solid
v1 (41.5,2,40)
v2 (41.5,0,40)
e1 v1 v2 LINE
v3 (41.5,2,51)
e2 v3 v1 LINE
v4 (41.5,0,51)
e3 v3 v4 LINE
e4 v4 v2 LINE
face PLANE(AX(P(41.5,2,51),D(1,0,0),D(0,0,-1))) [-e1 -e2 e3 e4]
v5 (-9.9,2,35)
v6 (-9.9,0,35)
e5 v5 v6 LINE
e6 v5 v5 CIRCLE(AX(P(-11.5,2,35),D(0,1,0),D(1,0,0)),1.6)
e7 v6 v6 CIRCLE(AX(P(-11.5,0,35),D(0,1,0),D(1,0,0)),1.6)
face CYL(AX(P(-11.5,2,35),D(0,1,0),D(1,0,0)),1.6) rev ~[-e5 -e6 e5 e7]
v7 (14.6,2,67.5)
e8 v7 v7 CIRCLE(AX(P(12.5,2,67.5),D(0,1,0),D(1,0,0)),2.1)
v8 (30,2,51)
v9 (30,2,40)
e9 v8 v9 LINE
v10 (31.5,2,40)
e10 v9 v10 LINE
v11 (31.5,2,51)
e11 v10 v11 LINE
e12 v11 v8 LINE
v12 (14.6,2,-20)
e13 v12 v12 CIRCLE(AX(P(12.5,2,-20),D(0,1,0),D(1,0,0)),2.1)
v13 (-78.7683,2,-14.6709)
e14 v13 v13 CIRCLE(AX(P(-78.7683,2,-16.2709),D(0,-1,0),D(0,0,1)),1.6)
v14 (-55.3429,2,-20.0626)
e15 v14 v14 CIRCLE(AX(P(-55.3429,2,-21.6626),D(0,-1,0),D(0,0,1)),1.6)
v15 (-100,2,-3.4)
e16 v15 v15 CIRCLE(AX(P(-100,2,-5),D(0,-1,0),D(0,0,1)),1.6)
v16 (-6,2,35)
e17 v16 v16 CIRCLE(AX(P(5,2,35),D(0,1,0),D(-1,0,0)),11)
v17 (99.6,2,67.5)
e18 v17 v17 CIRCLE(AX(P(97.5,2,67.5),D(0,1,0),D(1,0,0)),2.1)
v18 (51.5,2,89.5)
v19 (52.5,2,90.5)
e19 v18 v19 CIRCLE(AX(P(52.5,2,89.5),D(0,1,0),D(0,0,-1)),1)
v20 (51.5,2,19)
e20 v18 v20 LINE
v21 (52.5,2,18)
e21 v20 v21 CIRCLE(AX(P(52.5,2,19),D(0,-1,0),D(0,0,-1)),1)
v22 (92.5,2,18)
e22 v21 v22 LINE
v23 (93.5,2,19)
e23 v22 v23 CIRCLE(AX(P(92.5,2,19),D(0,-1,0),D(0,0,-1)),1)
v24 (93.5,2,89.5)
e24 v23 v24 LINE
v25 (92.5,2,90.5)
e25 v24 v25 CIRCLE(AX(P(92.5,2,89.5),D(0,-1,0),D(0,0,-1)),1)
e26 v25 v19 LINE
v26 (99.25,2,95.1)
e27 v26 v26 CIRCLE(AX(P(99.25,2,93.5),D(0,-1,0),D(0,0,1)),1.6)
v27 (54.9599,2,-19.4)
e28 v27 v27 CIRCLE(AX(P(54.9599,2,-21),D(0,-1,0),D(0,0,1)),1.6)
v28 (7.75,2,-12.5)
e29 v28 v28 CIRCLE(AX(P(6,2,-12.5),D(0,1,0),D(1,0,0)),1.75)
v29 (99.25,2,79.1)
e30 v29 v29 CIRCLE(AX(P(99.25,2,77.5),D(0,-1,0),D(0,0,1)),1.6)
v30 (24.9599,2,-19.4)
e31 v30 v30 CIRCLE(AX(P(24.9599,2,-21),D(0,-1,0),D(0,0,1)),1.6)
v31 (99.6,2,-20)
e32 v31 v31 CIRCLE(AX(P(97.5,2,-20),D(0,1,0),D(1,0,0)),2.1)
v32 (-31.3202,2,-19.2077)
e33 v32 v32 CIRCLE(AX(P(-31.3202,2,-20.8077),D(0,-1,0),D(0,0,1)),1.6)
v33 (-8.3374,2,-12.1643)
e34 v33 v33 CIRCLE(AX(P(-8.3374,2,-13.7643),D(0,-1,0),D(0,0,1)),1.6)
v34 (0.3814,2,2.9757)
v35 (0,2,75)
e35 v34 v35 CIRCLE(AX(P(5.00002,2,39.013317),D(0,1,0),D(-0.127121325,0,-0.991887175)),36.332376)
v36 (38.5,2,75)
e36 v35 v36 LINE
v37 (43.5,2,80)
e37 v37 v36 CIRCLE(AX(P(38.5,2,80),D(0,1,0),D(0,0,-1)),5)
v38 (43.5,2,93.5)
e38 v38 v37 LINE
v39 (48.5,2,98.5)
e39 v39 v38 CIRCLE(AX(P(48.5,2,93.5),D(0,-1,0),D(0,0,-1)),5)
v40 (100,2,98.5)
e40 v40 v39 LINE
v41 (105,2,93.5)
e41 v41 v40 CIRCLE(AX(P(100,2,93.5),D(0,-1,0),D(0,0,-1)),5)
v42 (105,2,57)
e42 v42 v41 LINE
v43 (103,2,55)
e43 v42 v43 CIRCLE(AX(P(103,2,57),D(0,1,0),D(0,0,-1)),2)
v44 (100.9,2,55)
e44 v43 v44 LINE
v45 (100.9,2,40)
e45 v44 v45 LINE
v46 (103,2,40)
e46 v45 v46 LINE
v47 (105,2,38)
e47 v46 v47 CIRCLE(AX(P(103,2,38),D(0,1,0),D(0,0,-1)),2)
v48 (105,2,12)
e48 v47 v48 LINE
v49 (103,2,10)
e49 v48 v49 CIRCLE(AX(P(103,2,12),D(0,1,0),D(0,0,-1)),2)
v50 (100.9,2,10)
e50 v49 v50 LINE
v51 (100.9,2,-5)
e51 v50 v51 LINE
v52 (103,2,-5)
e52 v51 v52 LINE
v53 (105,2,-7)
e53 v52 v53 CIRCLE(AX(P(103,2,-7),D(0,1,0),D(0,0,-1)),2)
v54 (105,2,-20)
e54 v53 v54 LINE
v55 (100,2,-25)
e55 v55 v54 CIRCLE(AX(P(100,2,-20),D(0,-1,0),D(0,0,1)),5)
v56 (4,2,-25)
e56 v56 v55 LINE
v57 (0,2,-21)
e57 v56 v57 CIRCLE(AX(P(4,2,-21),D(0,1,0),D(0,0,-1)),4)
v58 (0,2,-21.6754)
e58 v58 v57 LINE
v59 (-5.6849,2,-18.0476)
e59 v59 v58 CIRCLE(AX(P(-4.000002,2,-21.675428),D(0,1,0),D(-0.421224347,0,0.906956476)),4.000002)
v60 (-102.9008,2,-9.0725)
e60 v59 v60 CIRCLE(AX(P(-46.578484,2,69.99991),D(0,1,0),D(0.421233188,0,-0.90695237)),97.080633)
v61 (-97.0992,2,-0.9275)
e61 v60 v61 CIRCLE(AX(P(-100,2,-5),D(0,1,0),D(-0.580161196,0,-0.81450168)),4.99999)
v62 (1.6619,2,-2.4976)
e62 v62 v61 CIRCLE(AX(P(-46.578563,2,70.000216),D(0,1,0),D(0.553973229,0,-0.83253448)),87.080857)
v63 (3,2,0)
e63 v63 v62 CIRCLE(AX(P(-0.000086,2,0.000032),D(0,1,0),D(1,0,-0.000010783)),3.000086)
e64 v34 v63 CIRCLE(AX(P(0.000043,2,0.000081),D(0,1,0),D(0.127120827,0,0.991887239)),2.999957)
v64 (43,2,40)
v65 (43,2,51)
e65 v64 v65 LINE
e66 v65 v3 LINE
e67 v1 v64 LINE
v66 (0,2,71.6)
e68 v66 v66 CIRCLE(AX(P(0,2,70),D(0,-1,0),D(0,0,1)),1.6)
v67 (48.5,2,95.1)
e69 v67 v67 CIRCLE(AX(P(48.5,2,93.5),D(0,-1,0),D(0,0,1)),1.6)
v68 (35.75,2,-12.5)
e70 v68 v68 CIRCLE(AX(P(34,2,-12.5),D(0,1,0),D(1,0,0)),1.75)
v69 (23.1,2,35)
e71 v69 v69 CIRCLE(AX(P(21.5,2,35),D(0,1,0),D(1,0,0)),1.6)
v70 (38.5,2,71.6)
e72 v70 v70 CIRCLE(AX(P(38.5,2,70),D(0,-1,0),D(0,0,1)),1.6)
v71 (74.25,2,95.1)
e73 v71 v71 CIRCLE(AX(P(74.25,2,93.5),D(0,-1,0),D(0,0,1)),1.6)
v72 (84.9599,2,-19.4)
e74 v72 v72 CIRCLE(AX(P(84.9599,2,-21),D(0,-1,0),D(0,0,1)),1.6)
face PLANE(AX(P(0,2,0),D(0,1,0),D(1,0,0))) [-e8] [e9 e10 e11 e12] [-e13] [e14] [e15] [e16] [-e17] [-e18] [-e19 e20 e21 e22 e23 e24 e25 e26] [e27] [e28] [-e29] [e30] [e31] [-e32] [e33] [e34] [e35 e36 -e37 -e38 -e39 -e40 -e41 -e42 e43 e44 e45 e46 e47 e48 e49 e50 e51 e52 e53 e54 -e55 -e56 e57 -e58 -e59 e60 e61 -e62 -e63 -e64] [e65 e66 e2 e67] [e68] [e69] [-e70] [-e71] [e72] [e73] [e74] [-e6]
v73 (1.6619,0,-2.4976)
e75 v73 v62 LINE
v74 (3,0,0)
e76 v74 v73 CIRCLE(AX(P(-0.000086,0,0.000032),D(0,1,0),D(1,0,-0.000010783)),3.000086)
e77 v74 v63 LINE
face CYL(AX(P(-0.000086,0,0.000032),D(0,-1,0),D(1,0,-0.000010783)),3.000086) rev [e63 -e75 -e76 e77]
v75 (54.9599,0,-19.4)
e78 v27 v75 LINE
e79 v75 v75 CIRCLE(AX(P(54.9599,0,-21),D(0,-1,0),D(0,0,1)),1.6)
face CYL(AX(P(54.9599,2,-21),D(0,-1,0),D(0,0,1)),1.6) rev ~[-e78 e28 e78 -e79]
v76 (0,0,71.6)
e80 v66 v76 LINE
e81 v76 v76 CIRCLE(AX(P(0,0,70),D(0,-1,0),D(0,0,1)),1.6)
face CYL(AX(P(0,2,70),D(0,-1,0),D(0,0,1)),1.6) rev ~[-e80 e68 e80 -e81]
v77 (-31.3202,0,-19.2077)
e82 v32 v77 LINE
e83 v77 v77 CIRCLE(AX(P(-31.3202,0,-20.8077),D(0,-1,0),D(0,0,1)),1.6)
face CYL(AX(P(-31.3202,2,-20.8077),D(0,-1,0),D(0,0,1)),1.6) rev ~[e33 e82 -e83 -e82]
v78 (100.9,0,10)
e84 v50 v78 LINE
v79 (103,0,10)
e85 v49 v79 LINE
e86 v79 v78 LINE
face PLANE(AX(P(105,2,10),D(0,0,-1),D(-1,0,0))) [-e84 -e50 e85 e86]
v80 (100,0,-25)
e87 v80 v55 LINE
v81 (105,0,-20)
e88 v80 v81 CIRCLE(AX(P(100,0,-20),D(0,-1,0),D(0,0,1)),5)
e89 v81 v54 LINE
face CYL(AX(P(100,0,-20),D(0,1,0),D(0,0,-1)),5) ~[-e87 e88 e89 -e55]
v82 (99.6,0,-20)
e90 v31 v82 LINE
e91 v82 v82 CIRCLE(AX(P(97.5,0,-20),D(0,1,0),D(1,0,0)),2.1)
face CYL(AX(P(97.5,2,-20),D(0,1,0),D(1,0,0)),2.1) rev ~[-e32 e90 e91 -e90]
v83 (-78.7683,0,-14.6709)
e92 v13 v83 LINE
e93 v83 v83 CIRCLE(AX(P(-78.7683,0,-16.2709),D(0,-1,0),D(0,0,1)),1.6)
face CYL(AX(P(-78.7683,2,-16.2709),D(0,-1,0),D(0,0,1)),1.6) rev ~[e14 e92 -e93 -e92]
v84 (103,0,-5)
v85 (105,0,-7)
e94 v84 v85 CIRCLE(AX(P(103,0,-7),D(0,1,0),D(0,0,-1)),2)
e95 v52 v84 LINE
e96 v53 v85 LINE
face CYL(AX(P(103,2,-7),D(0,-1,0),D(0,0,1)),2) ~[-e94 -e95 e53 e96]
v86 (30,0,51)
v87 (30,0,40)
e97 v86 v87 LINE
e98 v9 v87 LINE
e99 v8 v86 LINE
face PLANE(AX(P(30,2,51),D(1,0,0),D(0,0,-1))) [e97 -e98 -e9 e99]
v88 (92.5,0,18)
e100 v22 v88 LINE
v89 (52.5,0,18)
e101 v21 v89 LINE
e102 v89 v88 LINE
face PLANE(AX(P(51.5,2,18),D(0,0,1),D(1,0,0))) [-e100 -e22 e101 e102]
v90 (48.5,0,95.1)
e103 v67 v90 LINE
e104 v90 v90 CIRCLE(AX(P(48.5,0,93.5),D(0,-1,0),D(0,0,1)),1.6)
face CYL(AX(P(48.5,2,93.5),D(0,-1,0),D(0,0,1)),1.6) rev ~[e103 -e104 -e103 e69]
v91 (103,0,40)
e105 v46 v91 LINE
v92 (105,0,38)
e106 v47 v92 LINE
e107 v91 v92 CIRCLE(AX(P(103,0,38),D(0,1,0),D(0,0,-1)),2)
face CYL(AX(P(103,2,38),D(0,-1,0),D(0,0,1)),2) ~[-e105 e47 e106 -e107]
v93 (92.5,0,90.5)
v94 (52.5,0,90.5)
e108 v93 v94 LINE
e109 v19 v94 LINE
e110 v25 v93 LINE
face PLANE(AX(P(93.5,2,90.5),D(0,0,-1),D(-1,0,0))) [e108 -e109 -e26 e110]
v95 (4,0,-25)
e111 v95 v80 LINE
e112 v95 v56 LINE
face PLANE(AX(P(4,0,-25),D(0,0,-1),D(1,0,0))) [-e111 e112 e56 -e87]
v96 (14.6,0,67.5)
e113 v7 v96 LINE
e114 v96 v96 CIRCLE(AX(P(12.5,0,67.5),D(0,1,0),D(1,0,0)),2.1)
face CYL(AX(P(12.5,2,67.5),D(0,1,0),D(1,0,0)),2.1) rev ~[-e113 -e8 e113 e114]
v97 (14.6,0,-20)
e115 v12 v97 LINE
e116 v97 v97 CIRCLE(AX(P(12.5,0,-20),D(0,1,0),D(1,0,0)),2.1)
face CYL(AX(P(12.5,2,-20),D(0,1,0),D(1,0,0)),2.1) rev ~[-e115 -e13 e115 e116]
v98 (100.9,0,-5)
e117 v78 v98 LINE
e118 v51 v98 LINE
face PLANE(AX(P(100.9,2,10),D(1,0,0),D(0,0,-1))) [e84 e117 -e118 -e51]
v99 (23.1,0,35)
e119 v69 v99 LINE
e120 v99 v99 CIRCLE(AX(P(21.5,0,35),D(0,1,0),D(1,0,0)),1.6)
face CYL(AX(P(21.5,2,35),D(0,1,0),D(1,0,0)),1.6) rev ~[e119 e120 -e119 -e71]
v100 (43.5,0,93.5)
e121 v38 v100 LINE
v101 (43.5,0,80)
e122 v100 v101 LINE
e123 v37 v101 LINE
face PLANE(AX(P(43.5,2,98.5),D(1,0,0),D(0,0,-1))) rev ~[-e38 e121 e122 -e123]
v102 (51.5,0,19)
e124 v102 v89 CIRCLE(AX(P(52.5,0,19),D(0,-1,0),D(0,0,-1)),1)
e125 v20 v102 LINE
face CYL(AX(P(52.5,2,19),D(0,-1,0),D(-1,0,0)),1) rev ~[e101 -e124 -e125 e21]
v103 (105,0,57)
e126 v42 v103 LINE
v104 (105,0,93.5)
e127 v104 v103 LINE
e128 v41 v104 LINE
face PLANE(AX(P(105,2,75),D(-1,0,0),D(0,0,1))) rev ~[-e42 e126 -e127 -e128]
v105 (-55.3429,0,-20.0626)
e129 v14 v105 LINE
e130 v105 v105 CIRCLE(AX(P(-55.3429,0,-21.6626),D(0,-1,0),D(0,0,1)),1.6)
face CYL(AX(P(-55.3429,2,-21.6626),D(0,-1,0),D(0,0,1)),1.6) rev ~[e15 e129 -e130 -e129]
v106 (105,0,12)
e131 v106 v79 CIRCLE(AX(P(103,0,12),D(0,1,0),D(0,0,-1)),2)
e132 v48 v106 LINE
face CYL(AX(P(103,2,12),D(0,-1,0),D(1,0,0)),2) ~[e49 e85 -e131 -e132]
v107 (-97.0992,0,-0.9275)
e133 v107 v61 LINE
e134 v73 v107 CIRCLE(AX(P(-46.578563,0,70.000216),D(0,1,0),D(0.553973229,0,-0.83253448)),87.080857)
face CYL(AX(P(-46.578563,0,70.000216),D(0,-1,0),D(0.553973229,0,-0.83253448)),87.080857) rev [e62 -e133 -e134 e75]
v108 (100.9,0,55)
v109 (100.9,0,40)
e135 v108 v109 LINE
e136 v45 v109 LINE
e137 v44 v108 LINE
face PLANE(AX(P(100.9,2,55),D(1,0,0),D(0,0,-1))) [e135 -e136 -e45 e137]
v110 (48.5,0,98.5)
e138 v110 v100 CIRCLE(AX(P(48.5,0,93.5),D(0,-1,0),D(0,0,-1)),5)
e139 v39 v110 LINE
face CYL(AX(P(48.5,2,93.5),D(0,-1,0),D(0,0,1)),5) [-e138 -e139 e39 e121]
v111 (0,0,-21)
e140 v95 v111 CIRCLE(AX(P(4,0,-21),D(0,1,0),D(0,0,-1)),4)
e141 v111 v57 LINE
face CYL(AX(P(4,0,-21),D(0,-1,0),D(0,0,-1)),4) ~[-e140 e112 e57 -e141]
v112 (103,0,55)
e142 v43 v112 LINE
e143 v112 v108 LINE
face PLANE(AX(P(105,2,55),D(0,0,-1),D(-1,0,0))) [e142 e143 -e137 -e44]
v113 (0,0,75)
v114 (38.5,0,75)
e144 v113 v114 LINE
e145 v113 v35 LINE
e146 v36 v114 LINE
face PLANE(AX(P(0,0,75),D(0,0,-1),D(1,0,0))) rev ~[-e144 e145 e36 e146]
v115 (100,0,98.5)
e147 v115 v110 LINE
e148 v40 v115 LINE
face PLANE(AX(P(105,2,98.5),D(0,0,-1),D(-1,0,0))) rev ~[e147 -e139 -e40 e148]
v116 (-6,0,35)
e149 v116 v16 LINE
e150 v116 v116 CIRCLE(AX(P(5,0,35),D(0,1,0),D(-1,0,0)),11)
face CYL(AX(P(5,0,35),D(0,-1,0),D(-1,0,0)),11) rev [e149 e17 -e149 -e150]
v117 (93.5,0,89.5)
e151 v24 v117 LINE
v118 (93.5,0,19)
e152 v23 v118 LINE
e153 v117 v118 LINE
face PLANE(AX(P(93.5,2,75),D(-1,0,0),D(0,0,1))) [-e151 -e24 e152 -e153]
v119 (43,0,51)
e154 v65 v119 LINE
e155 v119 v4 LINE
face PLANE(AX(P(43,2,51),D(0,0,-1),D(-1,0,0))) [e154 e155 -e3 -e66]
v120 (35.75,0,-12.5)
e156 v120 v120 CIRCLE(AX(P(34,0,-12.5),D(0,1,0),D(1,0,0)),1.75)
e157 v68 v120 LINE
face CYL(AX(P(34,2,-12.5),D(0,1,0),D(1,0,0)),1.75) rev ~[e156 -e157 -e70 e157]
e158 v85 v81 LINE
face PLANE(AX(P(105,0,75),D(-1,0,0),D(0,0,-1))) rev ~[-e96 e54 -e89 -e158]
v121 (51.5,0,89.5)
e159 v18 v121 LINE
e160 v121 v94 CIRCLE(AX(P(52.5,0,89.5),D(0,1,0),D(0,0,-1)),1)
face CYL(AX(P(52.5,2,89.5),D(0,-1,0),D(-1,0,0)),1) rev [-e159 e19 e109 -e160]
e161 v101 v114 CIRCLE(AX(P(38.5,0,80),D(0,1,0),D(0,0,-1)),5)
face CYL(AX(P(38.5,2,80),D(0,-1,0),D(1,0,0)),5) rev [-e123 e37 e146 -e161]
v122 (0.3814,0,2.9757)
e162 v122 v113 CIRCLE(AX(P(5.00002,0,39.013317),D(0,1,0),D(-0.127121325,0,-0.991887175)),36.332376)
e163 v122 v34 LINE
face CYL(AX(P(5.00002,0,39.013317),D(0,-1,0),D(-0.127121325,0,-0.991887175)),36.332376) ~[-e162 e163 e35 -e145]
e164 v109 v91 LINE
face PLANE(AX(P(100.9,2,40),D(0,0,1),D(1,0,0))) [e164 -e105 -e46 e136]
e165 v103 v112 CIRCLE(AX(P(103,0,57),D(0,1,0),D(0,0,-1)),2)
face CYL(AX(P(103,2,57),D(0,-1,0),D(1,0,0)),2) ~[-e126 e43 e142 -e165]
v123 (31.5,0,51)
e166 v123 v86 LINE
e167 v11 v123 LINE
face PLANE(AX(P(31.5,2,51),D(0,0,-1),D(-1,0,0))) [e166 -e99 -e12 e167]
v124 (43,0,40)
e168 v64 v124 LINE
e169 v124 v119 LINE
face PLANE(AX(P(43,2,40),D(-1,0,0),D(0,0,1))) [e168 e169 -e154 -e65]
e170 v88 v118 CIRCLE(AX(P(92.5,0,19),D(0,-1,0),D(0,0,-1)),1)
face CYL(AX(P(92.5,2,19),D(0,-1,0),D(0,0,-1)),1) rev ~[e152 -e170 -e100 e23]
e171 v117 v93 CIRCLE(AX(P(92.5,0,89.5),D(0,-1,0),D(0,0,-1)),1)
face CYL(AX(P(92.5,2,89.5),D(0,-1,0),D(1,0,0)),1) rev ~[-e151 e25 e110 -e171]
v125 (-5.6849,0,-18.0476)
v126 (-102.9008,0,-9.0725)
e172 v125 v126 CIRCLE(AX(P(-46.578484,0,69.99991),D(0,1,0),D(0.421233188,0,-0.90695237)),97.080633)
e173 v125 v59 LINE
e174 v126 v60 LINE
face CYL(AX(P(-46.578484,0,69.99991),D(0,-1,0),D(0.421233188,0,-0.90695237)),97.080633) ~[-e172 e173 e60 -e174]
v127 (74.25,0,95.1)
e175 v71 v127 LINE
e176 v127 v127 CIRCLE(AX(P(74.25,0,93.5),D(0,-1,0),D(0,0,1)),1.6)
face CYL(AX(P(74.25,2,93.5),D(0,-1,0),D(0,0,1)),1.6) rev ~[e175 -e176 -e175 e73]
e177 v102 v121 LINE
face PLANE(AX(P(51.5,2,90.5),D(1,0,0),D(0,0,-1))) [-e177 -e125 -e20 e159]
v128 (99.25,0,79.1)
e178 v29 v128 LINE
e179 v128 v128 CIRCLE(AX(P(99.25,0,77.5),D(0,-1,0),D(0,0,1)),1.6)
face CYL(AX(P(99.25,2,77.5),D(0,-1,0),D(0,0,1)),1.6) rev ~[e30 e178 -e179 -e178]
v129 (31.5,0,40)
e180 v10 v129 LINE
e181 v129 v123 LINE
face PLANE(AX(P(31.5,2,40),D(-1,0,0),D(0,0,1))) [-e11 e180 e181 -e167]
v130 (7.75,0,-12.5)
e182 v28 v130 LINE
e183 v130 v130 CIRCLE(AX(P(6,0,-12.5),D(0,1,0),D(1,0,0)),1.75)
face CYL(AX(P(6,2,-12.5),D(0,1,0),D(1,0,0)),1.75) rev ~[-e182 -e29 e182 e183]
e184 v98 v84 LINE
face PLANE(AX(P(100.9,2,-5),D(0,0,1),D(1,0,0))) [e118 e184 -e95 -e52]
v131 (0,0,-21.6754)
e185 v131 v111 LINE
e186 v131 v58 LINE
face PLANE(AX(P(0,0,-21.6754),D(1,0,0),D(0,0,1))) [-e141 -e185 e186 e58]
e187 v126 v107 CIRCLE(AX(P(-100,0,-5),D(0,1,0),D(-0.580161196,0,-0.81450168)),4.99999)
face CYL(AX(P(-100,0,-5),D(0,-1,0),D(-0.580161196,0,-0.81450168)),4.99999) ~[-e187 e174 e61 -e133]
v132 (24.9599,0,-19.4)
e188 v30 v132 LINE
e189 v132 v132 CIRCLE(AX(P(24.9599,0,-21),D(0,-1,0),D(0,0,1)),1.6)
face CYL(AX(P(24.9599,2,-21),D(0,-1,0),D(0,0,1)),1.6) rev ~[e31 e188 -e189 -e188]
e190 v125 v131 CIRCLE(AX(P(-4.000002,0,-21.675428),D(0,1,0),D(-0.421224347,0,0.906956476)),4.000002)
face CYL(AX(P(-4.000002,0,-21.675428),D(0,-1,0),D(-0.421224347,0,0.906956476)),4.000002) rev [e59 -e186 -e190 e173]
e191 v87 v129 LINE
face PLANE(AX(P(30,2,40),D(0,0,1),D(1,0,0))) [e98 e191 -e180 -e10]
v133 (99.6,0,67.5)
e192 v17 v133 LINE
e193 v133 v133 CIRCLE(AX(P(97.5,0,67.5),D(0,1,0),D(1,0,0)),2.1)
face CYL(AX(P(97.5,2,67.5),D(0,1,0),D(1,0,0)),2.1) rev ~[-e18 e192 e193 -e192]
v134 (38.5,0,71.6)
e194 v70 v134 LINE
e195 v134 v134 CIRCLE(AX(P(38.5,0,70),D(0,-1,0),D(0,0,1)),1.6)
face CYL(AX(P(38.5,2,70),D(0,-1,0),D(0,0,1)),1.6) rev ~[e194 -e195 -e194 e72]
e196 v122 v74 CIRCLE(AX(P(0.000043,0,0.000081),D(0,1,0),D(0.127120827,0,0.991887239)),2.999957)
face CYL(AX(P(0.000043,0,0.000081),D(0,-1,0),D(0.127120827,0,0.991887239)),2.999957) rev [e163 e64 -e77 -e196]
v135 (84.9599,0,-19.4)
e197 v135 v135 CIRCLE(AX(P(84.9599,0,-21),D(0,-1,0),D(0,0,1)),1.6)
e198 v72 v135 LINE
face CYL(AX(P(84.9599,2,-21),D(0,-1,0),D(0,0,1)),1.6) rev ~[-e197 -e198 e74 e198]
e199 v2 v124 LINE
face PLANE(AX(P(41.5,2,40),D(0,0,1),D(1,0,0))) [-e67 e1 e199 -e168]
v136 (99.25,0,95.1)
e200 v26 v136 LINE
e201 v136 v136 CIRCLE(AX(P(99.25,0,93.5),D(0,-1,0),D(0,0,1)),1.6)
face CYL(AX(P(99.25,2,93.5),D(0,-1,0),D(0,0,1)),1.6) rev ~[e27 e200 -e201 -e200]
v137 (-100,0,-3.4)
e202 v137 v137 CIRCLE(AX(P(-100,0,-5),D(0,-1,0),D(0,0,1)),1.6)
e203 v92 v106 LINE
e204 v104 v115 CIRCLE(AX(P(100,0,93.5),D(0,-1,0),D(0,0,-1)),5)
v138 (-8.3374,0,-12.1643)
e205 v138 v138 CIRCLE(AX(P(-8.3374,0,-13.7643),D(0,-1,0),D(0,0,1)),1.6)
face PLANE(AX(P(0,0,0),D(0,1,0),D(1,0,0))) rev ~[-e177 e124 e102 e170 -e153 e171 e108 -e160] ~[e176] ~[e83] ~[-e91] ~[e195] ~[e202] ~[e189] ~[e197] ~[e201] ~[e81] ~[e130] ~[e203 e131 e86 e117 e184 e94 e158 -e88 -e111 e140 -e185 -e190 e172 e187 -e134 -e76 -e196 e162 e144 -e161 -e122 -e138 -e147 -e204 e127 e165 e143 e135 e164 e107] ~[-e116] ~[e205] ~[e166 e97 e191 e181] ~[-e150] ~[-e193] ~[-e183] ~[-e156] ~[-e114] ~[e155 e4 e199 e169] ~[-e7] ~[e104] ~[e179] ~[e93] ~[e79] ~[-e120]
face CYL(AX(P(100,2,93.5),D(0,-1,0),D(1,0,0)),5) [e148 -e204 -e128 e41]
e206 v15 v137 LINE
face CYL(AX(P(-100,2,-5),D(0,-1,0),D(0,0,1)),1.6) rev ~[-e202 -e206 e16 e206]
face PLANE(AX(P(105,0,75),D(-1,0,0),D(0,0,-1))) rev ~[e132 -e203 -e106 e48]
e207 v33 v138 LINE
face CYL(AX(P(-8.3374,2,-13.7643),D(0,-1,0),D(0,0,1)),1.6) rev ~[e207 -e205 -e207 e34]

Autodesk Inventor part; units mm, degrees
ref_plane "YZ Plane" through (0, 0, 0) normal (1, 0, 0) x (0, 1, 0)
ref_plane "XZ Plane" through (0, 0, 0) normal (0, 1, 0) x (-1, 0, 0)
ref_plane "XY Plane" through (0, 0, 0) normal (0, 0, 1) x (1, 0, 0)
sketch "Sketch1" plane through (0, 0, 0) normal (0, 1, 0) x (-1, 0, 0)
  arc A0 (-0.3814, 2.9757) -> (-3, 0) centre (0, 0) ccw
  arc A1 (-0.3814, 2.9757) -> (0, 75) centre (-5, 39.0133) ccw
  line L0 (-105, 0) -> (0, 0) construction
  line L1 (-3, 0) -> (-105, 0) construction
  arc A2 (-3, 0) -> (-0.3814, -2.9757) centre (0, 0) ccw
  arc A3 (-1.6619, -2.4976) -> (97.0992, -0.9275) centre (46.5785, 70) ccw
  arc A4 (102.9008, -9.0725) -> (97.0992, -0.9275) centre (100, -5) ccw
  line L2 (0, 0) -> (100, 0) construction
  arc A5 (5.6849, -18.0476) -> (102.9008, -9.0725) centre (46.5785, 70) ccw
  line L3 (0, 75) -> (0, 0) construction
  line L4 (0, 0) -> (0, -15.1769) construction
  line L5 (0, 0) -> (-105, 0) construction
  line L6 (0, 75) -> (-105, 75)
  line L7 (-105, 75) -> (-105, -25)
  line L8 (0, -21.6754) -> (0, -21)
  line L9 (-4, -25) -> (-105, -25)
  arc A6 (5.6849, -18.0476) -> (0, -21.6754) centre (4, -21.6754) ccw
  arc A7 (-4, -25) -> (0, -21) centre (-4, -21) ccw
  circle A8 centre (-5, 35) radius 11
  point P0 (-5, -39.0133)
  point P1 (0, -25)
  dimension "d0" = 6
  dimension "d13" = 5
  dimension "d47" = 10
  dimension "d48" = 100
  dimension "d49" = 100
  dimension "d68" = 70
  dimension "d71" = 0
  dimension "d73" = 25
  dimension "d75" = 105
  dimension "d76" = 4
  dimension "d77" = 4
  dimension "d101" = 22
  dimension "d102" = 5
  dimension "d103" = 35
  dimension "d108" = 75
extrude "Extrusion1" add sketch "Sketch1" along normal blind 2
sketch "Szkic5" plane through (0, 2, 0) normal (0, 1, 0) x (1, 0, 0)
  circle A0 centre (12.5, -67.5) radius 2.1
  circle A1 centre (97.5, -67.5) radius 2.1
  line L0 (97.5, -67.5) -> (97.5, 52.5) construction
  line L1 (12.5, -67.5) -> (97.5, -67.5) construction
  line L2 (0, -75) -> (105, -75) construction
  line L3 (105, -75) -> (105, 25) construction
  line L4 (105, 25) -> (4, 25) construction
  line L5 (0, 21) -> (0, 21.6754) construction
  circle A2 centre (97.5, 20) radius 2.1
  circle A3 centre (12.5, 20) radius 2.1
  line L6 (12.5, 20) -> (97.5, 20) construction
  point P0 (0, 0)
  dimension "d84" = 7.5
  dimension "d85" = 7.5
  dimension "d89" = 85
  dimension "d106" = 87.5
  dimension "d107" = 85
  dimension "d109" = 4.2
extrude "Wyciągnięcie proste4" cut sketch "Szkic5" against normal up to surface (2 mm away)
sketch "Szkic6" plane through (0, 2, 0) normal (0, 1, 0) x (1, 0, 0)
  line L0 (105, -55) -> (100.9, -55)
  line L1 (100.9, -55) -> (100.9, -40)
  line L2 (100.9, -40) -> (105, -40)
  line L3 (105, -40) -> (105, -55)
  line L4 (105, -10) -> (100.9, -10)
  line L5 (100.9, -10) -> (100.9, 5)
  line L6 (100.9, 5) -> (105, 5)
  line L7 (105, 5) -> (105, -10)
  line L8 (100.9, -40) -> (100.9, -10) construction
  line L9 (105, -75) -> (105, 25) construction
  line L10 (100.9, -25) -> (105, -25) construction
  point P0 (0, 0)
  dimension "d92" = 15
  dimension "d94" = 30
  dimension "d134" = 4.1
extrude "Wyciągnięcie proste5" cut sketch "Szkic6" against normal up to surface (2 mm away)
sketch "Sketch9" plane through (0, 2, 0) normal (0, 1, 0) x (1, 0, 0)
  line L0 (-11.5, -35) -> (21.5, -35) construction
  circle A0 centre (-11.5, -35) radius 1.6
  circle A1 centre (21.5, -35) radius 1.6
  circle A2 centre (5, -35) radius 11 construction
  point P0 (0, 0)
  dimension "d110" = 33
  dimension "d111" = 3.2
extrude "Extrusion6" cut sketch "Sketch9" against normal through all
fillet "Fillet1" radius 5 1 edges at (105, 1, -25)
sketch "Sketch10" plane through (0, 2, 0) normal (0, 1, 0) x (1, 0, 0)
  circle A0 centre (6, 12.5) radius 1.75
  circle A1 centre (34, 12.5) radius 1.75
  line L0 (6, 12.5) -> (34, 12.5) construction
  line L1 (100, 25) -> (4, 25) construction
  point P0 (0, 0)
  dimension "d115" = 3.5
  dimension "d116" = 28
  dimension "d117" = 12.5
  dimension "d118" = 6
extrude "Extrusion7" cut sketch "Sketch10" against normal through all
sketch "Sketch11" plane through (0, 2, 0) normal (0, 1, 0) x (1, 0, 0)
  line L0 (93.5, -75) -> (51.5, -75)
  line L1 (51.5, -75) -> (51.5, -18)
  line L2 (51.5, -18) -> (93.5, -18)
  line L3 (93.5, -18) -> (93.5, -75)
  line L4 (0, -75) -> (105, -75) construction
  point P0 (0, 0)
  point P1 (100, -75)
  dimension "d121" = 42
  dimension "d122" = 57
  dimension "d123" = 51.5
extrude "Extrusion8" cut sketch "Sketch11" against normal through all
sketch "Sketch12" plane through (0, 2, 0) normal (0, 1, 0) x (1, 0, 0)
  line L0 (93.5, -75) -> (105, -75) projected
  line L1 (93.5, -75) -> (93.5, -90.5)
  line L2 (93.5, -90.5) -> (51.5, -90.5)
  line L3 (0, -75) -> (51.5, -75) projected
  line L4 (51.5, -90.5) -> (51.5, -75)
  line L5 (93.5, -75) -> (105, -75)
  line L6 (105, -75) -> (105, -98.5)
  line L7 (105, -98.5) -> (43.5, -98.5)
  line L8 (43.5, -98.5) -> (43.5, -75)
  point P0 (0, 0)
  dimension "d126" = 15.5
  dimension "d127" = 8
  dimension "d128" = 8
extrude "Extrusion9" add sketch "Sketch12" against normal up to surface (2 mm away)
fillet "Fillet2" radius 5 3 edges at (43.5, 1, 75) (43.5, 1, 98.5) (105, 1, 98.5)
fillet "Fillet3" radius 1 4 edges at (51.5, 1, 18) (93.5, 1, 18) (93.5, 1, 90.5) (51.5, 1, 90.5)
fillet "Fillet4" radius 2 4 edges at (105, 1, 55) (105, 1, 40) (105, 1, 10) (105, 1, -5)
sketch "Sketch13" plane through (0, 2, 0) normal (0, 1, 0) x (1, 0, 0)
  line L0 (99.25, -77.5) -> (99.25, -93.5) construction
  line L1 (93.5, -19) -> (93.5, -89.5) construction
  line L2 (93.5, -89.5) -> (105, -89.5) construction
  line L3 (105, -93.5) -> (105, -57) construction
  point P0 (0, 0)
  point P1 (99.25, -89.5)
  dimension "d137" = 12
  dimension "d138" = 4
hole "Hole1" at (99.25, 2, 77.5) at (99.25, 2, 93.5) direction (0, -1, 0) diameter 3.2 end through all
sketch "Sketch14" plane through (0, 2, 0) normal (0, 1, 0) x (1, 0, 0)
  arc A0 (1.6619, 2.4976) -> (-97.0992, 0.9275) centre (-46.5785, -70) ccw construction
  arc A1 (-102.9008, 9.0725) -> (-97.0992, 0.9275) centre (-100, 5) ccw projected
  arc A2 (13.245, 0) -> (-100, 5) centre (-46.5785, -70) ccw construction
  line L0 (0, 0) -> (13.245, 0) construction
  line L1 (-46.5785, -70) -> (-100, 5) construction
  line L2 (24.9599, 21) -> (84.9599, 21) construction
  circle A3 centre (12.5, 20) radius 2.1 projected
  circle A4 centre (97.5, 20) radius 2.1 projected
  line L3 (100, 25) -> (4, 25) projected
  line L4 (0, -70) -> (38.5, -70) construction
  arc A5 (43.5, -80) -> (38.5, -75) centre (38.5, -80) ccw projected
  line L5 (38.5, -70) -> (38.5, -75) construction
  line L6 (0, -75) -> (0, -70) construction
  line L7 (0, -75) -> (38.5, -75) projected
  arc A6 (100, -98.5) -> (105, -93.5) centre (100, -93.5) ccw projected
  line L8 (48.5, -93.5) -> (100, -93.5) construction
  arc A7 (43.5, -93.5) -> (48.5, -98.5) centre (48.5, -93.5) ccw construction
  arc A8 (100, -98.5) -> (105, -93.5) centre (100, -93.5) ccw construction
  point P0 (54.9599, 21)
  point P1 (74.25, -93.5)
  point P2 (-78.7683, 16.2709)
  point P3 (-78.7683, 16.2709)
  point P4 (-78.7683, 16.2709)
  point P5 (-55.3429, 21.6626)
  point P6 (-55.3429, 21.6626)
  point P7 (-55.3429, 21.6626)
  point P8 (-31.3202, 20.8077)
  point P9 (-31.3202, 20.8077)
  point P10 (-31.3202, 20.8077)
  point P11 (-8.3374, 13.7643)
  point P12 (-8.3374, 13.7643)
  point P13 (-8.3374, 13.7643)
  dimension "d150" = 60
  dimension "d151" = 12.5
  dimension "d152" = 4
  dimension "d153" = 5
  dimension "d156" = 60
hole "Hole2" at (-100, 2, -5) at (24.9599, 2, -21) at (54.9599, 2, -21) at (84.9599, 2, -21) at (0, 2, 70) at (38.5, 2, 70) at (48.5, 2, 93.5) at (74.25, 2, 93.5) at (-78.7683, 2, -16.2709) at (-55.3429, 2, -21.6626) at (-31.3202, 2, -20.8077) at (-8.3374, 2, -13.7643) direction (0, -1, 0) diameter 3.2 end through all
sketch "Sketch15" plane through (0, 2, 0) normal (0, 1, 0) x (1, 0, 0)
  line L0 (30, -40) -> (31.5, -40)
  line L1 (31.5, -40) -> (31.5, -51)
  line L2 (31.5, -51) -> (30, -51)
  line L3 (30, -51) -> (30, -40)
  line L4 (41.5, -40) -> (43, -40)
  line L5 (43, -40) -> (43, -51)
  line L6 (43, -51) -> (41.5, -51)
  line L7 (41.5, -51) -> (41.5, -40)
  point P0 (0, 0)
  dimension "d165" = 1.5
  dimension "d166" = 11
  dimension "d167" = 10
  dimension "d168" = 40
  dimension "d169" = 30
extrude "Extrusion10" cut sketch "Sketch15" against normal through all
sketch "Sketch16" plane through (0, 2, 0) normal (0, 1, 0) x (1, 0, 0)
  line L0 (43, -40) -> (43, -51) projected
  line L1 (43, -51) -> (41.5, -51) projected
  line L2 (41.5, -51) -> (41.5, -40) projected
  line L3 (41.5, -40) -> (43, -40) projected
  line L4 (31.5, -40) -> (31.5, -51) projected
  line L5 (31.5, -51) -> (30, -51) projected
  line L6 (30, -51) -> (30, -40) projected
  line L7 (30, -40) -> (31.5, -40) projected
  circle A0 centre (-31.3202, 20.8077) radius 1.6 projected
  circle A1 centre (-78.7683, 16.2709) radius 1.6 projected
  circle A2 centre (48.5, -93.5) radius 1.6 projected
  circle A3 centre (0, -70) radius 1.6 projected
  circle A4 centre (54.9599, 21) radius 1.6 projected
  circle A5 centre (-100, 5) radius 1.6 projected
  circle A6 centre (24.9599, 21) radius 1.6 projected
  circle A7 centre (84.9599, 21) radius 1.6 projected
  circle A8 centre (38.5, -70) radius 1.6 projected
  circle A9 centre (74.25, -93.5) radius 1.6 projected
  circle A10 centre (-55.3429, 21.6626) radius 1.6 projected
  circle A11 centre (-8.3374, 13.7643) radius 1.6 projected
  circle A12 centre (99.25, -77.5) radius 1.6 projected
  circle A13 centre (99.25, -93.5) radius 1.6 projected
  line L8 (51.5, -89.5) -> (51.5, -19) projected
  arc A14 (52.5, -18) -> (51.5, -19) centre (52.5, -19) ccw projected
  line L9 (52.5, -18) -> (92.5, -18) projected
  arc A15 (93.5, -19) -> (92.5, -18) centre (92.5, -19) ccw projected
  line L10 (93.5, -19) -> (93.5, -89.5) projected
  arc A16 (92.5, -90.5) -> (93.5, -89.5) centre (92.5, -89.5) ccw projected
  line L11 (92.5, -90.5) -> (52.5, -90.5) projected
  arc A17 (51.5, -89.5) -> (52.5, -90.5) centre (52.5, -89.5) ccw projected
  circle A18 centre (34, 12.5) radius 1.75 projected
  circle A19 centre (6, 12.5) radius 1.75 projected
  circle A20 centre (-11.5, -35) radius 1.6 projected
  circle A21 centre (21.5, -35) radius 1.6 projected
  circle A22 centre (97.5, 20) radius 2.1 projected
  circle A23 centre (12.5, 20) radius 2.1 projected
  circle A24 centre (97.5, -67.5) radius 2.1 projected
  circle A25 centre (12.5, -67.5) radius 2.1 projected
  circle A26 centre (5, -35) radius 11 projected
  arc A27 (103, 5) -> (105, 7) centre (103, 7) ccw projected
  line L12 (105, 7) -> (105, 20) projected
  arc A28 (105, 20) -> (100, 25) centre (100, 20) ccw projected
  line L13 (100, 25) -> (4, 25) projected
  arc A29 (4, 25) -> (0, 21) centre (4, 21) ccw projected
  line L14 (0, 21) -> (0, 21.6754) projected
  arc A30 (-5.6849, 18.0476) -> (0, 21.6754) centre (-4, 21.6754) ccw projected
  arc A31 (-5.6849, 18.0476) -> (-102.9008, 9.0725) centre (-46.5785, -70) ccw projected
  arc A32 (-102.9008, 9.0725) -> (-97.0992, 0.9275) centre (-100, 5) ccw projected
  arc A33 (1.6619, 2.4976) -> (-97.0992, 0.9275) centre (-46.5785, -70) ccw projected
  arc A34 (0.3814, -2.9757) -> (1.6619, 2.4976) centre (0, 0) ccw projected
  arc A35 (0.3814, -2.9757) -> (0, -75) centre (5, -39.0133) ccw projected
  line L15 (0, -75) -> (38.5, -75) projected
  arc A36 (43.5, -80) -> (38.5, -75) centre (38.5, -80) ccw projected
  line L16 (43.5, -80) -> (43.5, -93.5) projected
  arc A37 (43.5, -93.5) -> (48.5, -98.5) centre (48.5, -93.5) ccw projected
  line L17 (48.5, -98.5) -> (100, -98.5) projected
  arc A38 (100, -98.5) -> (105, -93.5) centre (100, -93.5) ccw projected
  line L18 (105, -93.5) -> (105, -57) projected
  arc A39 (105, -57) -> (103, -55) centre (103, -57) ccw projected
  line L19 (103, -55) -> (100.9, -55) projected
  line L20 (100.9, -55) -> (100.9, -40) projected
  line L21 (100.9, -40) -> (103, -40) projected
  arc A40 (103, -40) -> (105, -38) centre (103, -38) ccw projected
  line L22 (105, -38) -> (105, -12) projected
  arc A41 (105, -12) -> (103, -10) centre (103, -12) ccw projected
  line L23 (103, -10) -> (100.9, -10) projected
  line L24 (100.9, -10) -> (100.9, 5) projected
  line L25 (100.9, 5) -> (103, 5) projected
  point P0 (0, 0)
  dimension "d172" = 10
  dimension "d173" = 1.75
properties part number "wstepna_geometria_wersja_2" material "Aluminum 6061"
